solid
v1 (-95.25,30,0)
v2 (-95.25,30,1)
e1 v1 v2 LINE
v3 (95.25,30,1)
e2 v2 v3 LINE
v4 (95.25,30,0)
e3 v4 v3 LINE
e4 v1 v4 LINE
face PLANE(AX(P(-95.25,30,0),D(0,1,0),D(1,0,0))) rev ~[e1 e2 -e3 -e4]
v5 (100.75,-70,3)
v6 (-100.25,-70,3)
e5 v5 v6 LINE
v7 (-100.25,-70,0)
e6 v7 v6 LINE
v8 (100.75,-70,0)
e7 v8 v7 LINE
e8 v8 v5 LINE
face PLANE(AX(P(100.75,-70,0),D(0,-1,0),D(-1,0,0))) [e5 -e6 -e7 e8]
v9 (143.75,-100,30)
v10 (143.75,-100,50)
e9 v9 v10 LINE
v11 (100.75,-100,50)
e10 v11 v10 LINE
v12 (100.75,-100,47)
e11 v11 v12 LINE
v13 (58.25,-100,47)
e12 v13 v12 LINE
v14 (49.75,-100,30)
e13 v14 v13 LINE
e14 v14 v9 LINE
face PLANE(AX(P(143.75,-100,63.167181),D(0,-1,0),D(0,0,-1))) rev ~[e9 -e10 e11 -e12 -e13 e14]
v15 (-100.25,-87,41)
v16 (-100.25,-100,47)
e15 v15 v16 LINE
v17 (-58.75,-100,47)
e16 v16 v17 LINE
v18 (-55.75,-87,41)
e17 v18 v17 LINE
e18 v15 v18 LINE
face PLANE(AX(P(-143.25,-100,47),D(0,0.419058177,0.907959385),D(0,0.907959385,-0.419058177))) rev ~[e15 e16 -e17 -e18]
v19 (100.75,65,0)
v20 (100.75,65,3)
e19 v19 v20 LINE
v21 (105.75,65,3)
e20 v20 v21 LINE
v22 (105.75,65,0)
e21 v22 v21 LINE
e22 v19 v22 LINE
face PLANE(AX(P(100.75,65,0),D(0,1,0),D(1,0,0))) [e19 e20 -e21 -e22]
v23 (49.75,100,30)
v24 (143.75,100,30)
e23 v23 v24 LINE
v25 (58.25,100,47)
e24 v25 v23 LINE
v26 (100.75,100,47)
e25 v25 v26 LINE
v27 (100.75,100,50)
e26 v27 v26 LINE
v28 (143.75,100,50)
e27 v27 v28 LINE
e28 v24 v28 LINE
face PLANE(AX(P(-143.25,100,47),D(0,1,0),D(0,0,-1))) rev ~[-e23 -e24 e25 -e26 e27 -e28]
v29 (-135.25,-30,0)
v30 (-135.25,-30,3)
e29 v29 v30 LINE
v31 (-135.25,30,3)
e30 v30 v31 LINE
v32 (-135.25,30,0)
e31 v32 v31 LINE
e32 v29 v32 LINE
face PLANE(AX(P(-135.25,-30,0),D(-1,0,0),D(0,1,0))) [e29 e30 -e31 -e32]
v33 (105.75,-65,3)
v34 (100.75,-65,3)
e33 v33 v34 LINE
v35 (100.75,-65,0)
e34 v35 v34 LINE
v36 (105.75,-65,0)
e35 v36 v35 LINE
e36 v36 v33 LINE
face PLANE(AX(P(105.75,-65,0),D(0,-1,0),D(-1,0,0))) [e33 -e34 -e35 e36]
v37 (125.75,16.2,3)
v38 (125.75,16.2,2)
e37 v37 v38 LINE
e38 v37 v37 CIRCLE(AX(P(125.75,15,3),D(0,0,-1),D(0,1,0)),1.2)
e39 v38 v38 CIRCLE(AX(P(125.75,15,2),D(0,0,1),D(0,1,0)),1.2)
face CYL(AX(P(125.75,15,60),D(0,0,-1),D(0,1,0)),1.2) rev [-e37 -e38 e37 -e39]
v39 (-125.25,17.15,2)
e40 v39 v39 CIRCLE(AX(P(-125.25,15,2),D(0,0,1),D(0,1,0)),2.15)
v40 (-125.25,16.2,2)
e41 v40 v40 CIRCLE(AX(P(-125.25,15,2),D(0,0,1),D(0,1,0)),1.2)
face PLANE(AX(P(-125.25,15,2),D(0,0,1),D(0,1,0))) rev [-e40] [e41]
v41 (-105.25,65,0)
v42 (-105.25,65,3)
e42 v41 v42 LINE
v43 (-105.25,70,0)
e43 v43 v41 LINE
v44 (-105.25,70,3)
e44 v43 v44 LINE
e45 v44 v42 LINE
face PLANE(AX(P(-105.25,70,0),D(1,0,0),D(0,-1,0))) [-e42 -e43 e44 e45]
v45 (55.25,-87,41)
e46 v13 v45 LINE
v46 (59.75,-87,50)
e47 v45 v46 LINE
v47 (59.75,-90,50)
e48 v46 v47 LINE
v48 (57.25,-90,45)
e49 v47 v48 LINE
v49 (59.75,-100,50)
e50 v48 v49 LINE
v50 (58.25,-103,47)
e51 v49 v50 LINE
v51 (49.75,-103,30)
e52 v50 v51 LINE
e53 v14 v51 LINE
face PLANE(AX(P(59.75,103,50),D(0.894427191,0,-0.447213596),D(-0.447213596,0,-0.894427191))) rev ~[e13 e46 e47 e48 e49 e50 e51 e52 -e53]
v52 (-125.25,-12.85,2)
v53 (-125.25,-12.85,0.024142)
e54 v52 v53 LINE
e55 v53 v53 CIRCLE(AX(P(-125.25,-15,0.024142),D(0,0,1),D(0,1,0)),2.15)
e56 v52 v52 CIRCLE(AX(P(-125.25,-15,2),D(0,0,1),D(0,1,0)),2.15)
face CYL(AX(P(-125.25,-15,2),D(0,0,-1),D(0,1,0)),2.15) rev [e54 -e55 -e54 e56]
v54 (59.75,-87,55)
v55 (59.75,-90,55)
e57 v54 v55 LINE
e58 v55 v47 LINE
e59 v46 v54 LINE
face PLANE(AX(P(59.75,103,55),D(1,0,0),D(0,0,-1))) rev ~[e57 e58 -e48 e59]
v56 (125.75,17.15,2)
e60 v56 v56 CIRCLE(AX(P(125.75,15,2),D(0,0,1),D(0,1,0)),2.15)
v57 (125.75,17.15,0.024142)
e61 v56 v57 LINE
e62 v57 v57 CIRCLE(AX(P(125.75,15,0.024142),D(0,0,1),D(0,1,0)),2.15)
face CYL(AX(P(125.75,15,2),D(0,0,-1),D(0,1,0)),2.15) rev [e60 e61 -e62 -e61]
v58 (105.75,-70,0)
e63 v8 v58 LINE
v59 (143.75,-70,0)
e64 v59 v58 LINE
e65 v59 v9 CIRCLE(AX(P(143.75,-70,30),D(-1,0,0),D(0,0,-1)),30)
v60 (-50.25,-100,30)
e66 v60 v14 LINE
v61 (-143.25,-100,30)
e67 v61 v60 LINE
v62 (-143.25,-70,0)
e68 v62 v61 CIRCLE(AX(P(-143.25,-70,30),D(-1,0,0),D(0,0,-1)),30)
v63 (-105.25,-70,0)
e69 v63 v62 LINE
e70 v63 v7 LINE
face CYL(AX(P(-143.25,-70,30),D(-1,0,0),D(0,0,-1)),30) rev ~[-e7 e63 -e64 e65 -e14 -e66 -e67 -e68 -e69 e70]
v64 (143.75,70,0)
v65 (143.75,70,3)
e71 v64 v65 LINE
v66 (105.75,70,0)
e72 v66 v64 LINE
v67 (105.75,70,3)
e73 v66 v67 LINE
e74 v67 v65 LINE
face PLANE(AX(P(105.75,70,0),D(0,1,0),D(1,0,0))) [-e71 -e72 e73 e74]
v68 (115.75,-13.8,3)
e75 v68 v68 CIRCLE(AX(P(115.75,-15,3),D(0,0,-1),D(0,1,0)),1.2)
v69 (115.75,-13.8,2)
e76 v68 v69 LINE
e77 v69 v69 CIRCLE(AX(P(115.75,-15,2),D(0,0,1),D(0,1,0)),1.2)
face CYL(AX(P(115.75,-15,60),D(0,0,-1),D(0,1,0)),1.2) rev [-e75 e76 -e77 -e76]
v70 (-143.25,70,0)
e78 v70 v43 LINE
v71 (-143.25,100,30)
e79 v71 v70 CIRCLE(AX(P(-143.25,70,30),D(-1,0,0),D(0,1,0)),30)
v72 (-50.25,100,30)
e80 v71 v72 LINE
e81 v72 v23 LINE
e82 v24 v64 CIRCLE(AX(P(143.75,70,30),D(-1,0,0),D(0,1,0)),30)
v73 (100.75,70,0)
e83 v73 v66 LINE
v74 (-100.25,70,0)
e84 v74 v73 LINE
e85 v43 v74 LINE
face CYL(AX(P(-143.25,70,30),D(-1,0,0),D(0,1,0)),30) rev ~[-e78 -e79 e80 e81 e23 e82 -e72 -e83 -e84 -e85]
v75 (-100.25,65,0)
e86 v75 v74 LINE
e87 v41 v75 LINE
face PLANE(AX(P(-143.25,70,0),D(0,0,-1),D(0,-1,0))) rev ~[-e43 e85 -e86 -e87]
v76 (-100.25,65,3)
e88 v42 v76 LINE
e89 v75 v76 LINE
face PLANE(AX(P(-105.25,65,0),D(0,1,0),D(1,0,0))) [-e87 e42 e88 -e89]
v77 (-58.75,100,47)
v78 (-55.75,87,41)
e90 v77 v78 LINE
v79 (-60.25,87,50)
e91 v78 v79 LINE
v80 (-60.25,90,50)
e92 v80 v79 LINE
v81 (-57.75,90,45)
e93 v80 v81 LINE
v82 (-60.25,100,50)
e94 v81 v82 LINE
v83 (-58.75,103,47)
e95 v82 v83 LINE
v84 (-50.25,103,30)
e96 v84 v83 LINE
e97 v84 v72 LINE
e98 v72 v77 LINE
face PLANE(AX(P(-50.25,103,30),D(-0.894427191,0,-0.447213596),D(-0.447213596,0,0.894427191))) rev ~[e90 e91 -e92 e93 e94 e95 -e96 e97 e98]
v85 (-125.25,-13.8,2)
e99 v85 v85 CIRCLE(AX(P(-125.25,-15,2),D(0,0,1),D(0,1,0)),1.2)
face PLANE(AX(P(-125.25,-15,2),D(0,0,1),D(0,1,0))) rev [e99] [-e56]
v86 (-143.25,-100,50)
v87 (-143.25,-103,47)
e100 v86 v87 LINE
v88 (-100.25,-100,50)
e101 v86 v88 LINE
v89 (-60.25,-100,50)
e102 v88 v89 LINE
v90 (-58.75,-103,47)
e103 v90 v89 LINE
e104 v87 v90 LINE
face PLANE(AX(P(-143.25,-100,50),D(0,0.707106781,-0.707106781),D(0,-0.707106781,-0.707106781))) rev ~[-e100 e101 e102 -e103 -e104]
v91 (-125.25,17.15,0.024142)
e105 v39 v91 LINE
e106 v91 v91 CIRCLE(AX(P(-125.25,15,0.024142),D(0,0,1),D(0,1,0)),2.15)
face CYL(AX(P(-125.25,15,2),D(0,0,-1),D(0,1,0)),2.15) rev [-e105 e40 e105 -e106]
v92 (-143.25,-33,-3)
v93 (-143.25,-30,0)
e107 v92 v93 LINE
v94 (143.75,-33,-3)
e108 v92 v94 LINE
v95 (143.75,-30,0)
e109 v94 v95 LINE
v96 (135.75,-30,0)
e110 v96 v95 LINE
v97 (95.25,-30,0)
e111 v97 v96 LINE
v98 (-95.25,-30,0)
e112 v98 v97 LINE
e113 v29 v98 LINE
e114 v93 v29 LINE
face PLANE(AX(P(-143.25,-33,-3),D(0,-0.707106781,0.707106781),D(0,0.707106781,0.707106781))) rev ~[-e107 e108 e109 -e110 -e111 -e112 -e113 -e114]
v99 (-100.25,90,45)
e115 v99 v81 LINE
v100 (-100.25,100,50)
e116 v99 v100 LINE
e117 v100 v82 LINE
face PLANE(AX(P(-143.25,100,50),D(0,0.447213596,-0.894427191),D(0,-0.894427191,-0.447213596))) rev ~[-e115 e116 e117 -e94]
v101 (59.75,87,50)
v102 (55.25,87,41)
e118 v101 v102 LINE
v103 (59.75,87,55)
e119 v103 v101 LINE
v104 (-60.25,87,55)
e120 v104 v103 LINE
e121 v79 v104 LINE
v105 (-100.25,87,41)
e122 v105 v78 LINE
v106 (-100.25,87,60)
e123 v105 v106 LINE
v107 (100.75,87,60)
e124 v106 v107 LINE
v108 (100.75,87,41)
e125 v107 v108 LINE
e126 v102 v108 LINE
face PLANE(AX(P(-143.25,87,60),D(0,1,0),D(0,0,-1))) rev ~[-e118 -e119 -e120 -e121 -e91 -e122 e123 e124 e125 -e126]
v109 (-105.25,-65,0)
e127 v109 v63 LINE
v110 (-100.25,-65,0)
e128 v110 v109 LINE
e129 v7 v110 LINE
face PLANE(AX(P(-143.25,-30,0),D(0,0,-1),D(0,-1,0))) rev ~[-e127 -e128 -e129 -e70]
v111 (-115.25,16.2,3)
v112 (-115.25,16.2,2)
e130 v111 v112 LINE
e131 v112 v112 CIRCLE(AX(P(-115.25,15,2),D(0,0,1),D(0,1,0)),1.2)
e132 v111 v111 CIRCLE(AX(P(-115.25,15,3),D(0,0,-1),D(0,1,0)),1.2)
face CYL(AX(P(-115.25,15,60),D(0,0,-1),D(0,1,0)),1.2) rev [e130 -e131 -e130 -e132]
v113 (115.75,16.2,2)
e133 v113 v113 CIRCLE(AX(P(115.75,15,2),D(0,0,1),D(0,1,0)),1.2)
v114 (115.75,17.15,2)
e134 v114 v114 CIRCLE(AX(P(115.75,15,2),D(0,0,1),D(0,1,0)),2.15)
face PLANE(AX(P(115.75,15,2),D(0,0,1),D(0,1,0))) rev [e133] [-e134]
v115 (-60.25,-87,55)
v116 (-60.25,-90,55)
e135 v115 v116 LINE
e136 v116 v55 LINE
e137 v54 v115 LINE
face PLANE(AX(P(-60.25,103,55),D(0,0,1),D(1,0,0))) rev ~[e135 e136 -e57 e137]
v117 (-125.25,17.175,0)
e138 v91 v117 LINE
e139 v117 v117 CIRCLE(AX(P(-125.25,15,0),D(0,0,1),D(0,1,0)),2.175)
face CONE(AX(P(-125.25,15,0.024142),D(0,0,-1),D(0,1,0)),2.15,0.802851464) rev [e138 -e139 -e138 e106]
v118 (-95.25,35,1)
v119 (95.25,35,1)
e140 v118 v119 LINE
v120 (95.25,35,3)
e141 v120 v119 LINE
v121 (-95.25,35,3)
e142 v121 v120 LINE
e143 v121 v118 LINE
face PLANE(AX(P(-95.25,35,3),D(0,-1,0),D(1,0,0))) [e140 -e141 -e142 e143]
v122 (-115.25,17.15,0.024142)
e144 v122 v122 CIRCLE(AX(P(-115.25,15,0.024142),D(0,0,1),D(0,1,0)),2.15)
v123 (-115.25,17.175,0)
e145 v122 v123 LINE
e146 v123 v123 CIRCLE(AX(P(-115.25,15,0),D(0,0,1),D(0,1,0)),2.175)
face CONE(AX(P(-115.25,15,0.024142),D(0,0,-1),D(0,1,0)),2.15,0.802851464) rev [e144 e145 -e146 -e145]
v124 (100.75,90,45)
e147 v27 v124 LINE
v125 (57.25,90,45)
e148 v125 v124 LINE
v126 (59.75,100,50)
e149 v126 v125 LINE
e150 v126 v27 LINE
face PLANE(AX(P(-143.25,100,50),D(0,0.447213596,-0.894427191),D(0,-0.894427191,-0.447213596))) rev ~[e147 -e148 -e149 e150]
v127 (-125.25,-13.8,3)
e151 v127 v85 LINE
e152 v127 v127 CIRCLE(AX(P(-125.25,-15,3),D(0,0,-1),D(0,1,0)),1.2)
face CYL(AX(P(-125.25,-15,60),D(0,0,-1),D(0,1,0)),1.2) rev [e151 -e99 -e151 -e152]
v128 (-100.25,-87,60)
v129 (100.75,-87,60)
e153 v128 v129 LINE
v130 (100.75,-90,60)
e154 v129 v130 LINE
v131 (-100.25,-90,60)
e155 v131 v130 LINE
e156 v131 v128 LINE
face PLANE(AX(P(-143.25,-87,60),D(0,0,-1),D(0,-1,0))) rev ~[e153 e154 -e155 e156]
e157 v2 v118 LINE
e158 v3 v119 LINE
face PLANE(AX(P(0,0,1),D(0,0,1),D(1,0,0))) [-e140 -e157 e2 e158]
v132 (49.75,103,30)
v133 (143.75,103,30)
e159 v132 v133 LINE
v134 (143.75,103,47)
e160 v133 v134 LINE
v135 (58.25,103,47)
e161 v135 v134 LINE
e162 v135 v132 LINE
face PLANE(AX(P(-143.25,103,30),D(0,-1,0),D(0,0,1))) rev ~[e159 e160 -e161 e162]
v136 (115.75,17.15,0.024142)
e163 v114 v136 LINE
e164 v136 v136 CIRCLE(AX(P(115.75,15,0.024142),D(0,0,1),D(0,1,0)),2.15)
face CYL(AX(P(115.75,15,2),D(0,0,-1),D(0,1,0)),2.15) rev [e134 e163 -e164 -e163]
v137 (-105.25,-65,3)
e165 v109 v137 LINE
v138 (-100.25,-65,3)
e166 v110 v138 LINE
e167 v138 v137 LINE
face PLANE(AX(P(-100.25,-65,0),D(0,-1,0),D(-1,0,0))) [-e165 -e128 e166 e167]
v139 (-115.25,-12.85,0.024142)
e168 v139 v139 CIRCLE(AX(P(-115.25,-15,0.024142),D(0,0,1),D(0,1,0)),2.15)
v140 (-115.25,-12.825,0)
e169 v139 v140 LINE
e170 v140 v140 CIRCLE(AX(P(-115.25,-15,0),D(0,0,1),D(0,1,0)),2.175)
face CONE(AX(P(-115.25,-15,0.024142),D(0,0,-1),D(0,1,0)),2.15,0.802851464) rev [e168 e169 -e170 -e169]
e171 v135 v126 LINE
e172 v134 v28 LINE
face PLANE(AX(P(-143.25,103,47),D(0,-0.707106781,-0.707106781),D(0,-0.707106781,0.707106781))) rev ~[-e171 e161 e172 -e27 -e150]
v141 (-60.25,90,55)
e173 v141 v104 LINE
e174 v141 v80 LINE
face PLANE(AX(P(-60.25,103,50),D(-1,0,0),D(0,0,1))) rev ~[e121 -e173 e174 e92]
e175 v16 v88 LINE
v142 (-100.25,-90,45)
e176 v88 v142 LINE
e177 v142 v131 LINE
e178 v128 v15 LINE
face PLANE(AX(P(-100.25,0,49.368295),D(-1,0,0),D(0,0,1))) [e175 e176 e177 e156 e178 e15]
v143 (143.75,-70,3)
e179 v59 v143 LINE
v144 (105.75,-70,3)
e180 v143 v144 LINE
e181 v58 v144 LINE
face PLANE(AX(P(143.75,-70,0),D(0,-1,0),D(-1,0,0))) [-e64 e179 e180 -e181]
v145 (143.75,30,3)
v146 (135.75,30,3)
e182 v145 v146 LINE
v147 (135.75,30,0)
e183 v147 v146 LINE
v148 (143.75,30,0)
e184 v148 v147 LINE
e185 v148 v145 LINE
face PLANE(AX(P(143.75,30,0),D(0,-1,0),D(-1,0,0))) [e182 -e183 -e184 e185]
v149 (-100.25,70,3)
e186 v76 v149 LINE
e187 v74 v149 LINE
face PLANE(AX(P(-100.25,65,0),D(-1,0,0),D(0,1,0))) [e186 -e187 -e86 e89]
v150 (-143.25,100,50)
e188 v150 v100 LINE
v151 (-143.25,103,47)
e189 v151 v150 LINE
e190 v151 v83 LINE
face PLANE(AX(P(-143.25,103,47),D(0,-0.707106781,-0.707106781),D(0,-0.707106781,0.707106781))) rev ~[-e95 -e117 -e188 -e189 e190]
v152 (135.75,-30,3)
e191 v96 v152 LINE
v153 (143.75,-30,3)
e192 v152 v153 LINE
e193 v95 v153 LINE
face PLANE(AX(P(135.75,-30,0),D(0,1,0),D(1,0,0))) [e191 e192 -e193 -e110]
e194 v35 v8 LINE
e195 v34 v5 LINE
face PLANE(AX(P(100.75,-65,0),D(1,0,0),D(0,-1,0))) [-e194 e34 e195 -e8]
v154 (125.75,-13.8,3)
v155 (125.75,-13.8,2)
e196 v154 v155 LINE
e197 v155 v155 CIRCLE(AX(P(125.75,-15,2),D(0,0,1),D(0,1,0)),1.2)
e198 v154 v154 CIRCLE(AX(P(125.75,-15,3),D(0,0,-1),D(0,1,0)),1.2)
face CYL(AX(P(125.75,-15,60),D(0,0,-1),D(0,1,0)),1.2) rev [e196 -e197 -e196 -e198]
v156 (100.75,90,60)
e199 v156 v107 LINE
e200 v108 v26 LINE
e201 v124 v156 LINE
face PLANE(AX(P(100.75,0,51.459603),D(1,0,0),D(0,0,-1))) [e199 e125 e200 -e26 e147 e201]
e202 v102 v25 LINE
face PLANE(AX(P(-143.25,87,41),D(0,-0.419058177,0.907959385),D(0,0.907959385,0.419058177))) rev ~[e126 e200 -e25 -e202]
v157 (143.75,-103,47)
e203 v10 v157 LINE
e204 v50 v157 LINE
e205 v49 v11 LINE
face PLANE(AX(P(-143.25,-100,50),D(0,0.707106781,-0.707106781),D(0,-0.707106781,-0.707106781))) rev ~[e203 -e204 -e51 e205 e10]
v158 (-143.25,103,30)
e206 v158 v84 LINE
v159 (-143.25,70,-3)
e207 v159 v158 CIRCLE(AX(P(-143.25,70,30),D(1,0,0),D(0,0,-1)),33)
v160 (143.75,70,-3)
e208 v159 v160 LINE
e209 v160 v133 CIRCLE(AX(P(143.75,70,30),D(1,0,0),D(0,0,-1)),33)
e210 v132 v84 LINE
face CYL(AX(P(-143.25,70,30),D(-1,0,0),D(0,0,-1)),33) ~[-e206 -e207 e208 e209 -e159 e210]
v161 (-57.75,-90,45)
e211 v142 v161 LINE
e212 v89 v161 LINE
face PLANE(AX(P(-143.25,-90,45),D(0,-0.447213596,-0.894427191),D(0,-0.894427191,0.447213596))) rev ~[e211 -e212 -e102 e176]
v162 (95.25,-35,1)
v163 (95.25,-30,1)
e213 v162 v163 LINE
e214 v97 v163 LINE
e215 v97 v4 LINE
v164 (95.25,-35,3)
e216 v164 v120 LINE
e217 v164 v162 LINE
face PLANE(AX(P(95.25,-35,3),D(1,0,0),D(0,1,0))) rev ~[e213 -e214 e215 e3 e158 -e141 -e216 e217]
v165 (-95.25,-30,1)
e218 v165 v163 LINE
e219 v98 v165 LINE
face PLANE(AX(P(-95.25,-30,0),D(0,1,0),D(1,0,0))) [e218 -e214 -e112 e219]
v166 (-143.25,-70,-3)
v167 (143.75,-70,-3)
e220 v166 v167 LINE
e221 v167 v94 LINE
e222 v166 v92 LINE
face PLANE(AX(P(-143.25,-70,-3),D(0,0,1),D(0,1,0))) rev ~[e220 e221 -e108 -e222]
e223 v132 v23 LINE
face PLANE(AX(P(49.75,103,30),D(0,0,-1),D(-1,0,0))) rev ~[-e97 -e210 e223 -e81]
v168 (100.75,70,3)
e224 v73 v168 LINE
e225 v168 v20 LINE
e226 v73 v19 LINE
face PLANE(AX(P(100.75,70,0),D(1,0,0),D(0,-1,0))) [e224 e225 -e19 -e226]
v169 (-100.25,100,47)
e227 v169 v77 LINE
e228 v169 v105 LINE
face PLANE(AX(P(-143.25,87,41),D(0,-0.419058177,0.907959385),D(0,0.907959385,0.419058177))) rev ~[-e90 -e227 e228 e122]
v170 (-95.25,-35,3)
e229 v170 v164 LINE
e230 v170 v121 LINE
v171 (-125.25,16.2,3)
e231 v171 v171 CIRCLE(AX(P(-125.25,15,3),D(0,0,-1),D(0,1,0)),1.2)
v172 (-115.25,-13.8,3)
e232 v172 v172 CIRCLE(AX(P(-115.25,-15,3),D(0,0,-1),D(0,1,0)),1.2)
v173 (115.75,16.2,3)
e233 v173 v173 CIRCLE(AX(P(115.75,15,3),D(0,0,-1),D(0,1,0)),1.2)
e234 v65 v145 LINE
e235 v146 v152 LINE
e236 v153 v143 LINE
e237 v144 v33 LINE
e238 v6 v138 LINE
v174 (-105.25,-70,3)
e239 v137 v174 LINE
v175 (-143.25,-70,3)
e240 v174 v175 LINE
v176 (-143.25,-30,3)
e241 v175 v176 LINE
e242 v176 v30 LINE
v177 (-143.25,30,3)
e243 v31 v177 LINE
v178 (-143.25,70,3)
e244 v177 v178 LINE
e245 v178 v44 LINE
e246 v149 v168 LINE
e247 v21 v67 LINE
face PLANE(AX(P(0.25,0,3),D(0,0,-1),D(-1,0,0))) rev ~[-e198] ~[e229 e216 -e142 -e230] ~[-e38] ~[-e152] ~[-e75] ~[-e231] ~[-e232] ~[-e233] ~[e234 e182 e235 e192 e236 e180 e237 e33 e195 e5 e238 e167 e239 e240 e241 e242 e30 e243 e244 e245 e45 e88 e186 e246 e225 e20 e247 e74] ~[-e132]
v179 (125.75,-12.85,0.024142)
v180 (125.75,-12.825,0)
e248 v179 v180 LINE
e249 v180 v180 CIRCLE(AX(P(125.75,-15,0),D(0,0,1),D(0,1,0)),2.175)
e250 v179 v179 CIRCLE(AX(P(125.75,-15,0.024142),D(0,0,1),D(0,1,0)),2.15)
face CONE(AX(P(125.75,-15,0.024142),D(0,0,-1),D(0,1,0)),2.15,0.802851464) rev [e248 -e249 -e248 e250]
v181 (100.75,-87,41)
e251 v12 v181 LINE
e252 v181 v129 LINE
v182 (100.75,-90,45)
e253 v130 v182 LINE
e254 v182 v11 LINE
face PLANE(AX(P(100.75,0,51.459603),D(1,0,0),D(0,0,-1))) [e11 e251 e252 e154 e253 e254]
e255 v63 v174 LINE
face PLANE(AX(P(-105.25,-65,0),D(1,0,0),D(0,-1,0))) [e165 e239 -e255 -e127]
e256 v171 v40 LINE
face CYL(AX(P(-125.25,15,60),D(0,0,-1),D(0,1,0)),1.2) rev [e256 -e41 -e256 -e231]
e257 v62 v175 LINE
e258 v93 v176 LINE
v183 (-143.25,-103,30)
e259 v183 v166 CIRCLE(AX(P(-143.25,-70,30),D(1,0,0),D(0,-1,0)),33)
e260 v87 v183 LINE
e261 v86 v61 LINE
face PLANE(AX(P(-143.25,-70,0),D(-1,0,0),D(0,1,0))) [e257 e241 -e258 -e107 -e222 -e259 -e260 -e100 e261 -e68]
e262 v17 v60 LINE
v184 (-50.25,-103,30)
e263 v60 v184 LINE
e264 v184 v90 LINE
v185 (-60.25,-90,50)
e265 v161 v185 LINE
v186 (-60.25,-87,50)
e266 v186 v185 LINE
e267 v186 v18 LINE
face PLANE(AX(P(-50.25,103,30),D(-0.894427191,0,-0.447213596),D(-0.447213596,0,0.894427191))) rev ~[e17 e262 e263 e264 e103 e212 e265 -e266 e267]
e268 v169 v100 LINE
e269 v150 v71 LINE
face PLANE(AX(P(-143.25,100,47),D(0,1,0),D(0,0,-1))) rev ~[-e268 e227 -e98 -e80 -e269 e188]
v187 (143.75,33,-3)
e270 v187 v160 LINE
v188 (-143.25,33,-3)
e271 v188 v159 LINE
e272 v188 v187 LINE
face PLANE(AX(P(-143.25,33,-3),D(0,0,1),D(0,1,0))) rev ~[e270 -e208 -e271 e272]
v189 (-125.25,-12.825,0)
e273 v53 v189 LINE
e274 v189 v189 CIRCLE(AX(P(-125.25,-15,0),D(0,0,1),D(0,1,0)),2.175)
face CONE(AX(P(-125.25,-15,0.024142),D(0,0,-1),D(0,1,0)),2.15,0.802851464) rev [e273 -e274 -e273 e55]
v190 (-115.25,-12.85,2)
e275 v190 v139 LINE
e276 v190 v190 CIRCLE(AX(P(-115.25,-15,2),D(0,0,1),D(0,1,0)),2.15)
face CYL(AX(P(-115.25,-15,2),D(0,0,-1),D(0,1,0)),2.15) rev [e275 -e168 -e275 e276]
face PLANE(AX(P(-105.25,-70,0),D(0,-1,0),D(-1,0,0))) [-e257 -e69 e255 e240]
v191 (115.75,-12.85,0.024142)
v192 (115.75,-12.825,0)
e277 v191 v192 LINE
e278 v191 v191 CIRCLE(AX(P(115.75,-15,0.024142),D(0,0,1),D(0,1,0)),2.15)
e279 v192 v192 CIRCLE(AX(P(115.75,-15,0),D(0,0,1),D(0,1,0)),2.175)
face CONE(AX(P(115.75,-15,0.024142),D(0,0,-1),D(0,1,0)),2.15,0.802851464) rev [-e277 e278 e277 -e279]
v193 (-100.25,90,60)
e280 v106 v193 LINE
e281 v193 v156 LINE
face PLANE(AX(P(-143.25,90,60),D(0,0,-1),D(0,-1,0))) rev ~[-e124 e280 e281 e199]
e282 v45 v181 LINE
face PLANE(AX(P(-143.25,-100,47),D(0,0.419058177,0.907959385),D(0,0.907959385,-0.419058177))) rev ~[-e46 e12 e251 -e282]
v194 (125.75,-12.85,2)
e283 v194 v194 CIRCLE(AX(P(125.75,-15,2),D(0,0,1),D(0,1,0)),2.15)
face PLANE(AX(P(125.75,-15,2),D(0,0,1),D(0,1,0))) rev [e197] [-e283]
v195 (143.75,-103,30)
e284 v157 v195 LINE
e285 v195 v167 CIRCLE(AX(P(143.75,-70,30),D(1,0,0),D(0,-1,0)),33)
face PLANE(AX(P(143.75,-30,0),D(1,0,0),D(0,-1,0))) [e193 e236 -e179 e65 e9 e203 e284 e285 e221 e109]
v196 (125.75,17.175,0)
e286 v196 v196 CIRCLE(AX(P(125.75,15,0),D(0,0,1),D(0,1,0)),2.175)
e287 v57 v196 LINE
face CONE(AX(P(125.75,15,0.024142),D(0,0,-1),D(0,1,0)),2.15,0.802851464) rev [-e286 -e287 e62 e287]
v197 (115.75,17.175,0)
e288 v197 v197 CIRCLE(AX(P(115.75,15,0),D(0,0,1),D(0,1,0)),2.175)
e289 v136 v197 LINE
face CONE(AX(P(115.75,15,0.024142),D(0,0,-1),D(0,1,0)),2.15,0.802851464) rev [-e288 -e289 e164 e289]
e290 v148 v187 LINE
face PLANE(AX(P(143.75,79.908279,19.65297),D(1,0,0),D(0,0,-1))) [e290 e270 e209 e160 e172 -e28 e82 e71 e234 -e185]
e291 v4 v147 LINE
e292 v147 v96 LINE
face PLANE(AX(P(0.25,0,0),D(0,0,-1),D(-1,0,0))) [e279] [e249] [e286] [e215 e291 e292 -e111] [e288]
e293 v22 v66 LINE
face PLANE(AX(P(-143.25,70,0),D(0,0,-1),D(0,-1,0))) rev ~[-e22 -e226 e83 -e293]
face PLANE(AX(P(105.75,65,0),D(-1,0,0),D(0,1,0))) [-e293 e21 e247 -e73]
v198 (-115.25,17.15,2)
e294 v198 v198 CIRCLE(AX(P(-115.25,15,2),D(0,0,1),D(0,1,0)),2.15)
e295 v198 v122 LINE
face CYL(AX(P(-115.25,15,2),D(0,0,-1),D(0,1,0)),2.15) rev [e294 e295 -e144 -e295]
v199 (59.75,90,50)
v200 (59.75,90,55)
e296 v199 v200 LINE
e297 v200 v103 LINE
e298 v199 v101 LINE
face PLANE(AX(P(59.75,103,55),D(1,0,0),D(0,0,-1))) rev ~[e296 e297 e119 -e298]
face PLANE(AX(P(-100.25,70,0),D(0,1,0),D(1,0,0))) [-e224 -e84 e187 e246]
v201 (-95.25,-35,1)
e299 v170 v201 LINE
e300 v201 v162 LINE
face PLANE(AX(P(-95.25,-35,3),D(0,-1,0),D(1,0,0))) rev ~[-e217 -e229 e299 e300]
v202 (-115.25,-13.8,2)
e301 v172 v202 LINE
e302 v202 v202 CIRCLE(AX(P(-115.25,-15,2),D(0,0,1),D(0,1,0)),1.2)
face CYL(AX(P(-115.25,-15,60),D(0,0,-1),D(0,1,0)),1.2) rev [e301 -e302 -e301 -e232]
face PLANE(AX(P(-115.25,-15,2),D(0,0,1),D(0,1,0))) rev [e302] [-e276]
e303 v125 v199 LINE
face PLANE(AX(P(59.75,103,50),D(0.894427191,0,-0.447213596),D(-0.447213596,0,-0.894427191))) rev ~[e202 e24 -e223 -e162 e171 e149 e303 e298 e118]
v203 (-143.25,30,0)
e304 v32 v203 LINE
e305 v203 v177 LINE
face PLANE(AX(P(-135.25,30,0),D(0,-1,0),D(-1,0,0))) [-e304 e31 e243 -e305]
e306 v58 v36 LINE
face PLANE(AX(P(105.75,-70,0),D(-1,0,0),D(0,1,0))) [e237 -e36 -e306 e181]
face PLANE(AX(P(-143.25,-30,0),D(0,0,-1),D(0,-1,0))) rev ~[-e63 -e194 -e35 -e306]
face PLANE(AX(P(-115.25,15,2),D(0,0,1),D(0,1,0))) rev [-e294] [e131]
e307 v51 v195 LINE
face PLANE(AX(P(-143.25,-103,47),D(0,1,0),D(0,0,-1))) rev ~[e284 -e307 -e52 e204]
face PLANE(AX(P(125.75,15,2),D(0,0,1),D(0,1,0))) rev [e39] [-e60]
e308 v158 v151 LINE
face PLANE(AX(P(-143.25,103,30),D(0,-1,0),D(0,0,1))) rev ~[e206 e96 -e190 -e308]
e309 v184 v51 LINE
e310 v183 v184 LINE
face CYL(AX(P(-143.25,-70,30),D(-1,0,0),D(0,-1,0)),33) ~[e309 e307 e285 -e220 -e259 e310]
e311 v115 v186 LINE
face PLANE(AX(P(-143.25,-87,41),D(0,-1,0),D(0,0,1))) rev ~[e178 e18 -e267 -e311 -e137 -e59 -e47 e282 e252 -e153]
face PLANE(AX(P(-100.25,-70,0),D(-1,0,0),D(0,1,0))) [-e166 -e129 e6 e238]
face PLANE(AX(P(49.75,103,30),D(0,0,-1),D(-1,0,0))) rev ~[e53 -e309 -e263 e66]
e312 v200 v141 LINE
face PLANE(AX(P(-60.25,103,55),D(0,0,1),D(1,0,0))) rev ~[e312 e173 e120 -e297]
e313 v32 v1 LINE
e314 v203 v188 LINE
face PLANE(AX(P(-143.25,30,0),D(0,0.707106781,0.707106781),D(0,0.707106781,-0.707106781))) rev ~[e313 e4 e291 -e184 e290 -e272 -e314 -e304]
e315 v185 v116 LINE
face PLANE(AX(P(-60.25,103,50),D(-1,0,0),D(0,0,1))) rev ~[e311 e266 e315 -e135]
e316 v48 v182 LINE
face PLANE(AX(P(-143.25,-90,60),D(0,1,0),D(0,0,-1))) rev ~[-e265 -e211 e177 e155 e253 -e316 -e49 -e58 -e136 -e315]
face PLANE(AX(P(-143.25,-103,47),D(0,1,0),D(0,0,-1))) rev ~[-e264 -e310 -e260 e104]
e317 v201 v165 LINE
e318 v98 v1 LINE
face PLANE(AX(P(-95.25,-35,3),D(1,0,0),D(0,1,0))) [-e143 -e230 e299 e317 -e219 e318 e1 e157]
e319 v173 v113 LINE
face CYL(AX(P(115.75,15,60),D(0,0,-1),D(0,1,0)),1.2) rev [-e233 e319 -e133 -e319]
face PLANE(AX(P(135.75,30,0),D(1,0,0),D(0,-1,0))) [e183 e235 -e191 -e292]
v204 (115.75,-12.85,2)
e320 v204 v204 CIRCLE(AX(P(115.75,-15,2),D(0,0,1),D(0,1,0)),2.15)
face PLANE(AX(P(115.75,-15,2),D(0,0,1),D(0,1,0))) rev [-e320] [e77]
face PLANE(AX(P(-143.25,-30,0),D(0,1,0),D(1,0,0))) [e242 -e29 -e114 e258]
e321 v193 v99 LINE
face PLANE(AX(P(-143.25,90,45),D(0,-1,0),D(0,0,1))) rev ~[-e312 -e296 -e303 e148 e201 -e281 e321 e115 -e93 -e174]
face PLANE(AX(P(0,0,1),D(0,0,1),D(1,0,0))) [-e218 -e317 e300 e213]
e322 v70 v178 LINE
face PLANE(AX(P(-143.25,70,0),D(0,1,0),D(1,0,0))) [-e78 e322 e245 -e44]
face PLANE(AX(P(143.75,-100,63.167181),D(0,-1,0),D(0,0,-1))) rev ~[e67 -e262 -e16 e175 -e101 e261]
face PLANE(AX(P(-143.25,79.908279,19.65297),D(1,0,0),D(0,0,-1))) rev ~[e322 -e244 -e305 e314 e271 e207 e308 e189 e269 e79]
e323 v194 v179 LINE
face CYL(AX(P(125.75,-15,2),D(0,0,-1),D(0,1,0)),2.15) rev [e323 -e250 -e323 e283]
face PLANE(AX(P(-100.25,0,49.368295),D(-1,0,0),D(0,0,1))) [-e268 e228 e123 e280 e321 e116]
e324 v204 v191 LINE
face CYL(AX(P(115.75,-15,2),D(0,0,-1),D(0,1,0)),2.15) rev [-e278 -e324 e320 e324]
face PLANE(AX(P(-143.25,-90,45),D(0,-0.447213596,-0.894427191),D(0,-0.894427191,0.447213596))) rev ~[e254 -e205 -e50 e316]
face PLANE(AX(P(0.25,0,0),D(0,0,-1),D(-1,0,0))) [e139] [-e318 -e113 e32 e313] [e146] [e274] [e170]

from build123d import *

# Parameters (mm, degrees)
EXTRUDE_1_DEPTH          = 3
EXTRUDE_2_DEPTH          = 287
SKETCH_4_W               = 21.736589458
SKETCH_4_H               = 200
CUT_EXTRUDE_1_DEPTH      = 43
SKETCH_5_W               = 23.415155123
SKETCH_5_H               = 200
CUT_EXTRUDE_2_DEPTH      = 43
CUT_EXTRUDE_3_DEPTH      = 259.263552403
HOLE_WIZARD_1_AT_2_COUNT = 2
HOLE_WIZARD_1_AT_2_PITCH = 31.622776602
HOLE_WIZARD_1_AT_3_COUNT = 2
HOLE_WIZARD_1_AT_3_PITCH = 10
HOLE_WIZARD_1_AT_4_COUNT = 2
HOLE_WIZARD_1_AT_4_PITCH = 242.860042
HOLE_WIZARD_1_AT_5_COUNT = 2
HOLE_WIZARD_1_AT_5_PITCH = 241
HOLE_WIZARD_1_AT_6_COUNT = 2
HOLE_WIZARD_1_AT_6_PITCH = 232.939906414
HOLE_WIZARD_1_AT_7_COUNT = 2
HOLE_WIZARD_1_AT_7_PITCH = 231
HOLE_WIZARD_1_AT_8_COUNT = 2
HOLE_WIZARD_1_AT_8_PITCH = 30
SKETCH_10_W              = 190.5
SKETCH_10_H              = 70
CUT_EXTRUDE_4_DEPTH      = 2
SKETCH_11_W              = 190.5
SKETCH_11_H              = 60
CUT_EXTRUDE_5_DEPTH      = 1


with BuildPart() as part:
    # 草图1 → 凸台-拉伸1 (new body)
    with BuildSketch(Plane.XY):
        Polygon((-143.25, 30), (-143.25, 70), (-105.25, 70), (-105.25, 65), (-100.25, 65), (-100.25, 70), (100.75, 70), (100.75, 65), (105.75, 65), (105.75, 70), (143.75, 70), (143.75, 30), (135.75, 30), (135.75, -30), (143.75, -30), (143.75, -70), (105.75, -70), (105.75, -65), (100.75, -65), (100.75, -70), (-100.25, -70), (-100.25, -65), (-105.25, -65), (-105.25, -70), (-143.25, -70), (-143.25, -30), (-135.25, -30), (-135.25, 30), align=None)
    extrude(amount=EXTRUDE_1_DEPTH)

    # 草图2 → 凸台-拉伸2 (add)
    with BuildSketch(Plane.ZY.offset(143.25)):
        with BuildLine():
            Line((0, 70), (0, 30))
            Line((0, 30), (-3, 33))
            Line((-3, 33), (-3, 70))
            ThreePointArc((-3, 70), (6.665476221, 93.334523779), (30, 103))
            Line((30, 103), (47, 103))
            Line((47, 103), (50, 100))
            Line((50, 100), (45, 90))
            Line((45, 90), (60, 90))
            Line((60, 90), (60, 87))
            Line((60, 87), (41, 87))
            Line((41, 87), (47, 100))
            Line((47, 100), (30, 100))
            ThreePointArc((30, 100), (8.786796564, 91.213203436), (0, 70))
        make_face()
        with BuildLine():
            Line((30, -100), (47, -100))
            Line((47, -100), (41, -87))
            Line((41, -87), (60, -87))
            Line((60, -87), (60, -90))
            Line((60, -90), (45, -90))
            Line((45, -90), (50, -100))
            Line((50, -100), (47, -103))
            Line((47, -103), (30, -103))
            ThreePointArc((30, -103), (6.665476221, -93.334523779), (-3, -70))
            Line((-3, -70), (-3, -33))
            Line((-3, -33), (0, -30))
            Line((0, -30), (0, -70))
            ThreePointArc((0, -70), (8.786796564, -91.213203436), (30, -100))
        make_face()
    extrude(amount=-EXTRUDE_2_DEPTH)

    # 草图4 → 切除-拉伸1 (cut)
    with BuildSketch(Plane.ZY.offset(143.25)):
        with Locations((49.368294729, 0)):
            Rectangle(SKETCH_4_W, SKETCH_4_H)
    extrude(amount=-CUT_EXTRUDE_1_DEPTH, mode=Mode.SUBTRACT)

    # 草图5 → 切除-拉伸2 (cut)
    with BuildSketch(Plane(origin=(143.75, 0, 0), x_dir=(0, 0, -1), z_dir=(1, 0, 0))):
        with Locations((-51.459603014, 0)):
            Rectangle(SKETCH_5_W, SKETCH_5_H)
    extrude(amount=-CUT_EXTRUDE_2_DEPTH, mode=Mode.SUBTRACT)

    # 草图6 → 切除-拉伸3 (cut, through all)
    with BuildSketch(Plane(origin=(0, 103, 0), x_dir=(1, 0, 0), z_dir=(0, 1, 0))):
        Polygon((0.25, -30), (-50.25, -30), (-60.25, -50), (-60.25, -55), (59.75, -55), (59.75, -50), (49.75, -30), align=None)
    extrude(amount=-CUT_EXTRUDE_3_DEPTH, mode=Mode.SUBTRACT)

    # 草图9 → 大小六角凹头盖螺钉柱孔1 (revolve, cut)
    with BuildSketch(Plane(origin=(115.75, 15, 0), x_dir=(0, 1, 0), z_dir=(1, 0, 0))):
        Polygon((0, 0), (0, 60), (1.2, 60), (1.2, 2), (2.15, 2), (2.15, 0.024142219), (2.175, 0), align=None)
    hole_wizard_1 = revolve(axis=Axis((115.75, 15, -6.35), (0, 0, 1)), mode=Mode.SUBTRACT)

    # 大小六角凹头盖螺钉柱孔1 at 2: 大小六角凹头盖螺钉柱孔1 ×2
    with Locations(*[Vector(0.3162277660168351, -0.9486832980505148, 0) * (i * HOLE_WIZARD_1_AT_2_PITCH) for i in range(1, HOLE_WIZARD_1_AT_2_COUNT)]):
        add(hole_wizard_1, mode=Mode.SUBTRACT)

    # 大小六角凹头盖螺钉柱孔1 at 3: 大小六角凹头盖螺钉柱孔1 ×2
    with Locations(*[(i * HOLE_WIZARD_1_AT_3_PITCH, 0, 0) for i in range(1, HOLE_WIZARD_1_AT_3_COUNT)]):
        add(hole_wizard_1, mode=Mode.SUBTRACT)

    # 大小六角凹头盖螺钉柱孔1 at 4: 大小六角凹头盖螺钉柱孔1 ×2
    with Locations(*[Vector(-0.9923410949607508, -0.12352793713204367, 0) * (i * HOLE_WIZARD_1_AT_4_PITCH) for i in range(1, HOLE_WIZARD_1_AT_4_COUNT)]):
        add(hole_wizard_1, mode=Mode.SUBTRACT)

    # 大小六角凹头盖螺钉柱孔1 at 5: 大小六角凹头盖螺钉柱孔1 ×2
    with Locations(*[(-i * HOLE_WIZARD_1_AT_5_PITCH, 0, 0) for i in range(1, HOLE_WIZARD_1_AT_5_COUNT)]):
        add(hole_wizard_1, mode=Mode.SUBTRACT)

    # 大小六角凹头盖螺钉柱孔1 at 6: 大小六角凹头盖螺钉柱孔1 ×2
    with Locations(*[Vector(-0.9916720735252418, -0.12878858097730414, 0) * (i * HOLE_WIZARD_1_AT_6_PITCH) for i in range(1, HOLE_WIZARD_1_AT_6_COUNT)]):
        add(hole_wizard_1, mode=Mode.SUBTRACT)

    # 大小六角凹头盖螺钉柱孔1 at 7: 大小六角凹头盖螺钉柱孔1 ×2
    with Locations(*[(-i * HOLE_WIZARD_1_AT_7_PITCH, 0, 0) for i in range(1, HOLE_WIZARD_1_AT_7_COUNT)]):
        add(hole_wizard_1, mode=Mode.SUBTRACT)

    # 大小六角凹头盖螺钉柱孔1 at 8: 大小六角凹头盖螺钉柱孔1 ×2
    with Locations(*[(0, -i * HOLE_WIZARD_1_AT_8_PITCH, 0) for i in range(1, HOLE_WIZARD_1_AT_8_COUNT)]):
        add(hole_wizard_1, mode=Mode.SUBTRACT)

    # 草图10 → 切除-拉伸4 (cut)
    with BuildSketch(Plane.XY.offset(3)):
        Rectangle(SKETCH_10_W, SKETCH_10_H)
    extrude(amount=-CUT_EXTRUDE_4_DEPTH, mode=Mode.SUBTRACT)

    # 草图11 → 切除-拉伸5 (cut)
    with BuildSketch(Plane.XY):
        Rectangle(SKETCH_11_W, SKETCH_11_H)
    extrude(amount=CUT_EXTRUDE_5_DEPTH, mode=Mode.SUBTRACT)


solid = part.part
